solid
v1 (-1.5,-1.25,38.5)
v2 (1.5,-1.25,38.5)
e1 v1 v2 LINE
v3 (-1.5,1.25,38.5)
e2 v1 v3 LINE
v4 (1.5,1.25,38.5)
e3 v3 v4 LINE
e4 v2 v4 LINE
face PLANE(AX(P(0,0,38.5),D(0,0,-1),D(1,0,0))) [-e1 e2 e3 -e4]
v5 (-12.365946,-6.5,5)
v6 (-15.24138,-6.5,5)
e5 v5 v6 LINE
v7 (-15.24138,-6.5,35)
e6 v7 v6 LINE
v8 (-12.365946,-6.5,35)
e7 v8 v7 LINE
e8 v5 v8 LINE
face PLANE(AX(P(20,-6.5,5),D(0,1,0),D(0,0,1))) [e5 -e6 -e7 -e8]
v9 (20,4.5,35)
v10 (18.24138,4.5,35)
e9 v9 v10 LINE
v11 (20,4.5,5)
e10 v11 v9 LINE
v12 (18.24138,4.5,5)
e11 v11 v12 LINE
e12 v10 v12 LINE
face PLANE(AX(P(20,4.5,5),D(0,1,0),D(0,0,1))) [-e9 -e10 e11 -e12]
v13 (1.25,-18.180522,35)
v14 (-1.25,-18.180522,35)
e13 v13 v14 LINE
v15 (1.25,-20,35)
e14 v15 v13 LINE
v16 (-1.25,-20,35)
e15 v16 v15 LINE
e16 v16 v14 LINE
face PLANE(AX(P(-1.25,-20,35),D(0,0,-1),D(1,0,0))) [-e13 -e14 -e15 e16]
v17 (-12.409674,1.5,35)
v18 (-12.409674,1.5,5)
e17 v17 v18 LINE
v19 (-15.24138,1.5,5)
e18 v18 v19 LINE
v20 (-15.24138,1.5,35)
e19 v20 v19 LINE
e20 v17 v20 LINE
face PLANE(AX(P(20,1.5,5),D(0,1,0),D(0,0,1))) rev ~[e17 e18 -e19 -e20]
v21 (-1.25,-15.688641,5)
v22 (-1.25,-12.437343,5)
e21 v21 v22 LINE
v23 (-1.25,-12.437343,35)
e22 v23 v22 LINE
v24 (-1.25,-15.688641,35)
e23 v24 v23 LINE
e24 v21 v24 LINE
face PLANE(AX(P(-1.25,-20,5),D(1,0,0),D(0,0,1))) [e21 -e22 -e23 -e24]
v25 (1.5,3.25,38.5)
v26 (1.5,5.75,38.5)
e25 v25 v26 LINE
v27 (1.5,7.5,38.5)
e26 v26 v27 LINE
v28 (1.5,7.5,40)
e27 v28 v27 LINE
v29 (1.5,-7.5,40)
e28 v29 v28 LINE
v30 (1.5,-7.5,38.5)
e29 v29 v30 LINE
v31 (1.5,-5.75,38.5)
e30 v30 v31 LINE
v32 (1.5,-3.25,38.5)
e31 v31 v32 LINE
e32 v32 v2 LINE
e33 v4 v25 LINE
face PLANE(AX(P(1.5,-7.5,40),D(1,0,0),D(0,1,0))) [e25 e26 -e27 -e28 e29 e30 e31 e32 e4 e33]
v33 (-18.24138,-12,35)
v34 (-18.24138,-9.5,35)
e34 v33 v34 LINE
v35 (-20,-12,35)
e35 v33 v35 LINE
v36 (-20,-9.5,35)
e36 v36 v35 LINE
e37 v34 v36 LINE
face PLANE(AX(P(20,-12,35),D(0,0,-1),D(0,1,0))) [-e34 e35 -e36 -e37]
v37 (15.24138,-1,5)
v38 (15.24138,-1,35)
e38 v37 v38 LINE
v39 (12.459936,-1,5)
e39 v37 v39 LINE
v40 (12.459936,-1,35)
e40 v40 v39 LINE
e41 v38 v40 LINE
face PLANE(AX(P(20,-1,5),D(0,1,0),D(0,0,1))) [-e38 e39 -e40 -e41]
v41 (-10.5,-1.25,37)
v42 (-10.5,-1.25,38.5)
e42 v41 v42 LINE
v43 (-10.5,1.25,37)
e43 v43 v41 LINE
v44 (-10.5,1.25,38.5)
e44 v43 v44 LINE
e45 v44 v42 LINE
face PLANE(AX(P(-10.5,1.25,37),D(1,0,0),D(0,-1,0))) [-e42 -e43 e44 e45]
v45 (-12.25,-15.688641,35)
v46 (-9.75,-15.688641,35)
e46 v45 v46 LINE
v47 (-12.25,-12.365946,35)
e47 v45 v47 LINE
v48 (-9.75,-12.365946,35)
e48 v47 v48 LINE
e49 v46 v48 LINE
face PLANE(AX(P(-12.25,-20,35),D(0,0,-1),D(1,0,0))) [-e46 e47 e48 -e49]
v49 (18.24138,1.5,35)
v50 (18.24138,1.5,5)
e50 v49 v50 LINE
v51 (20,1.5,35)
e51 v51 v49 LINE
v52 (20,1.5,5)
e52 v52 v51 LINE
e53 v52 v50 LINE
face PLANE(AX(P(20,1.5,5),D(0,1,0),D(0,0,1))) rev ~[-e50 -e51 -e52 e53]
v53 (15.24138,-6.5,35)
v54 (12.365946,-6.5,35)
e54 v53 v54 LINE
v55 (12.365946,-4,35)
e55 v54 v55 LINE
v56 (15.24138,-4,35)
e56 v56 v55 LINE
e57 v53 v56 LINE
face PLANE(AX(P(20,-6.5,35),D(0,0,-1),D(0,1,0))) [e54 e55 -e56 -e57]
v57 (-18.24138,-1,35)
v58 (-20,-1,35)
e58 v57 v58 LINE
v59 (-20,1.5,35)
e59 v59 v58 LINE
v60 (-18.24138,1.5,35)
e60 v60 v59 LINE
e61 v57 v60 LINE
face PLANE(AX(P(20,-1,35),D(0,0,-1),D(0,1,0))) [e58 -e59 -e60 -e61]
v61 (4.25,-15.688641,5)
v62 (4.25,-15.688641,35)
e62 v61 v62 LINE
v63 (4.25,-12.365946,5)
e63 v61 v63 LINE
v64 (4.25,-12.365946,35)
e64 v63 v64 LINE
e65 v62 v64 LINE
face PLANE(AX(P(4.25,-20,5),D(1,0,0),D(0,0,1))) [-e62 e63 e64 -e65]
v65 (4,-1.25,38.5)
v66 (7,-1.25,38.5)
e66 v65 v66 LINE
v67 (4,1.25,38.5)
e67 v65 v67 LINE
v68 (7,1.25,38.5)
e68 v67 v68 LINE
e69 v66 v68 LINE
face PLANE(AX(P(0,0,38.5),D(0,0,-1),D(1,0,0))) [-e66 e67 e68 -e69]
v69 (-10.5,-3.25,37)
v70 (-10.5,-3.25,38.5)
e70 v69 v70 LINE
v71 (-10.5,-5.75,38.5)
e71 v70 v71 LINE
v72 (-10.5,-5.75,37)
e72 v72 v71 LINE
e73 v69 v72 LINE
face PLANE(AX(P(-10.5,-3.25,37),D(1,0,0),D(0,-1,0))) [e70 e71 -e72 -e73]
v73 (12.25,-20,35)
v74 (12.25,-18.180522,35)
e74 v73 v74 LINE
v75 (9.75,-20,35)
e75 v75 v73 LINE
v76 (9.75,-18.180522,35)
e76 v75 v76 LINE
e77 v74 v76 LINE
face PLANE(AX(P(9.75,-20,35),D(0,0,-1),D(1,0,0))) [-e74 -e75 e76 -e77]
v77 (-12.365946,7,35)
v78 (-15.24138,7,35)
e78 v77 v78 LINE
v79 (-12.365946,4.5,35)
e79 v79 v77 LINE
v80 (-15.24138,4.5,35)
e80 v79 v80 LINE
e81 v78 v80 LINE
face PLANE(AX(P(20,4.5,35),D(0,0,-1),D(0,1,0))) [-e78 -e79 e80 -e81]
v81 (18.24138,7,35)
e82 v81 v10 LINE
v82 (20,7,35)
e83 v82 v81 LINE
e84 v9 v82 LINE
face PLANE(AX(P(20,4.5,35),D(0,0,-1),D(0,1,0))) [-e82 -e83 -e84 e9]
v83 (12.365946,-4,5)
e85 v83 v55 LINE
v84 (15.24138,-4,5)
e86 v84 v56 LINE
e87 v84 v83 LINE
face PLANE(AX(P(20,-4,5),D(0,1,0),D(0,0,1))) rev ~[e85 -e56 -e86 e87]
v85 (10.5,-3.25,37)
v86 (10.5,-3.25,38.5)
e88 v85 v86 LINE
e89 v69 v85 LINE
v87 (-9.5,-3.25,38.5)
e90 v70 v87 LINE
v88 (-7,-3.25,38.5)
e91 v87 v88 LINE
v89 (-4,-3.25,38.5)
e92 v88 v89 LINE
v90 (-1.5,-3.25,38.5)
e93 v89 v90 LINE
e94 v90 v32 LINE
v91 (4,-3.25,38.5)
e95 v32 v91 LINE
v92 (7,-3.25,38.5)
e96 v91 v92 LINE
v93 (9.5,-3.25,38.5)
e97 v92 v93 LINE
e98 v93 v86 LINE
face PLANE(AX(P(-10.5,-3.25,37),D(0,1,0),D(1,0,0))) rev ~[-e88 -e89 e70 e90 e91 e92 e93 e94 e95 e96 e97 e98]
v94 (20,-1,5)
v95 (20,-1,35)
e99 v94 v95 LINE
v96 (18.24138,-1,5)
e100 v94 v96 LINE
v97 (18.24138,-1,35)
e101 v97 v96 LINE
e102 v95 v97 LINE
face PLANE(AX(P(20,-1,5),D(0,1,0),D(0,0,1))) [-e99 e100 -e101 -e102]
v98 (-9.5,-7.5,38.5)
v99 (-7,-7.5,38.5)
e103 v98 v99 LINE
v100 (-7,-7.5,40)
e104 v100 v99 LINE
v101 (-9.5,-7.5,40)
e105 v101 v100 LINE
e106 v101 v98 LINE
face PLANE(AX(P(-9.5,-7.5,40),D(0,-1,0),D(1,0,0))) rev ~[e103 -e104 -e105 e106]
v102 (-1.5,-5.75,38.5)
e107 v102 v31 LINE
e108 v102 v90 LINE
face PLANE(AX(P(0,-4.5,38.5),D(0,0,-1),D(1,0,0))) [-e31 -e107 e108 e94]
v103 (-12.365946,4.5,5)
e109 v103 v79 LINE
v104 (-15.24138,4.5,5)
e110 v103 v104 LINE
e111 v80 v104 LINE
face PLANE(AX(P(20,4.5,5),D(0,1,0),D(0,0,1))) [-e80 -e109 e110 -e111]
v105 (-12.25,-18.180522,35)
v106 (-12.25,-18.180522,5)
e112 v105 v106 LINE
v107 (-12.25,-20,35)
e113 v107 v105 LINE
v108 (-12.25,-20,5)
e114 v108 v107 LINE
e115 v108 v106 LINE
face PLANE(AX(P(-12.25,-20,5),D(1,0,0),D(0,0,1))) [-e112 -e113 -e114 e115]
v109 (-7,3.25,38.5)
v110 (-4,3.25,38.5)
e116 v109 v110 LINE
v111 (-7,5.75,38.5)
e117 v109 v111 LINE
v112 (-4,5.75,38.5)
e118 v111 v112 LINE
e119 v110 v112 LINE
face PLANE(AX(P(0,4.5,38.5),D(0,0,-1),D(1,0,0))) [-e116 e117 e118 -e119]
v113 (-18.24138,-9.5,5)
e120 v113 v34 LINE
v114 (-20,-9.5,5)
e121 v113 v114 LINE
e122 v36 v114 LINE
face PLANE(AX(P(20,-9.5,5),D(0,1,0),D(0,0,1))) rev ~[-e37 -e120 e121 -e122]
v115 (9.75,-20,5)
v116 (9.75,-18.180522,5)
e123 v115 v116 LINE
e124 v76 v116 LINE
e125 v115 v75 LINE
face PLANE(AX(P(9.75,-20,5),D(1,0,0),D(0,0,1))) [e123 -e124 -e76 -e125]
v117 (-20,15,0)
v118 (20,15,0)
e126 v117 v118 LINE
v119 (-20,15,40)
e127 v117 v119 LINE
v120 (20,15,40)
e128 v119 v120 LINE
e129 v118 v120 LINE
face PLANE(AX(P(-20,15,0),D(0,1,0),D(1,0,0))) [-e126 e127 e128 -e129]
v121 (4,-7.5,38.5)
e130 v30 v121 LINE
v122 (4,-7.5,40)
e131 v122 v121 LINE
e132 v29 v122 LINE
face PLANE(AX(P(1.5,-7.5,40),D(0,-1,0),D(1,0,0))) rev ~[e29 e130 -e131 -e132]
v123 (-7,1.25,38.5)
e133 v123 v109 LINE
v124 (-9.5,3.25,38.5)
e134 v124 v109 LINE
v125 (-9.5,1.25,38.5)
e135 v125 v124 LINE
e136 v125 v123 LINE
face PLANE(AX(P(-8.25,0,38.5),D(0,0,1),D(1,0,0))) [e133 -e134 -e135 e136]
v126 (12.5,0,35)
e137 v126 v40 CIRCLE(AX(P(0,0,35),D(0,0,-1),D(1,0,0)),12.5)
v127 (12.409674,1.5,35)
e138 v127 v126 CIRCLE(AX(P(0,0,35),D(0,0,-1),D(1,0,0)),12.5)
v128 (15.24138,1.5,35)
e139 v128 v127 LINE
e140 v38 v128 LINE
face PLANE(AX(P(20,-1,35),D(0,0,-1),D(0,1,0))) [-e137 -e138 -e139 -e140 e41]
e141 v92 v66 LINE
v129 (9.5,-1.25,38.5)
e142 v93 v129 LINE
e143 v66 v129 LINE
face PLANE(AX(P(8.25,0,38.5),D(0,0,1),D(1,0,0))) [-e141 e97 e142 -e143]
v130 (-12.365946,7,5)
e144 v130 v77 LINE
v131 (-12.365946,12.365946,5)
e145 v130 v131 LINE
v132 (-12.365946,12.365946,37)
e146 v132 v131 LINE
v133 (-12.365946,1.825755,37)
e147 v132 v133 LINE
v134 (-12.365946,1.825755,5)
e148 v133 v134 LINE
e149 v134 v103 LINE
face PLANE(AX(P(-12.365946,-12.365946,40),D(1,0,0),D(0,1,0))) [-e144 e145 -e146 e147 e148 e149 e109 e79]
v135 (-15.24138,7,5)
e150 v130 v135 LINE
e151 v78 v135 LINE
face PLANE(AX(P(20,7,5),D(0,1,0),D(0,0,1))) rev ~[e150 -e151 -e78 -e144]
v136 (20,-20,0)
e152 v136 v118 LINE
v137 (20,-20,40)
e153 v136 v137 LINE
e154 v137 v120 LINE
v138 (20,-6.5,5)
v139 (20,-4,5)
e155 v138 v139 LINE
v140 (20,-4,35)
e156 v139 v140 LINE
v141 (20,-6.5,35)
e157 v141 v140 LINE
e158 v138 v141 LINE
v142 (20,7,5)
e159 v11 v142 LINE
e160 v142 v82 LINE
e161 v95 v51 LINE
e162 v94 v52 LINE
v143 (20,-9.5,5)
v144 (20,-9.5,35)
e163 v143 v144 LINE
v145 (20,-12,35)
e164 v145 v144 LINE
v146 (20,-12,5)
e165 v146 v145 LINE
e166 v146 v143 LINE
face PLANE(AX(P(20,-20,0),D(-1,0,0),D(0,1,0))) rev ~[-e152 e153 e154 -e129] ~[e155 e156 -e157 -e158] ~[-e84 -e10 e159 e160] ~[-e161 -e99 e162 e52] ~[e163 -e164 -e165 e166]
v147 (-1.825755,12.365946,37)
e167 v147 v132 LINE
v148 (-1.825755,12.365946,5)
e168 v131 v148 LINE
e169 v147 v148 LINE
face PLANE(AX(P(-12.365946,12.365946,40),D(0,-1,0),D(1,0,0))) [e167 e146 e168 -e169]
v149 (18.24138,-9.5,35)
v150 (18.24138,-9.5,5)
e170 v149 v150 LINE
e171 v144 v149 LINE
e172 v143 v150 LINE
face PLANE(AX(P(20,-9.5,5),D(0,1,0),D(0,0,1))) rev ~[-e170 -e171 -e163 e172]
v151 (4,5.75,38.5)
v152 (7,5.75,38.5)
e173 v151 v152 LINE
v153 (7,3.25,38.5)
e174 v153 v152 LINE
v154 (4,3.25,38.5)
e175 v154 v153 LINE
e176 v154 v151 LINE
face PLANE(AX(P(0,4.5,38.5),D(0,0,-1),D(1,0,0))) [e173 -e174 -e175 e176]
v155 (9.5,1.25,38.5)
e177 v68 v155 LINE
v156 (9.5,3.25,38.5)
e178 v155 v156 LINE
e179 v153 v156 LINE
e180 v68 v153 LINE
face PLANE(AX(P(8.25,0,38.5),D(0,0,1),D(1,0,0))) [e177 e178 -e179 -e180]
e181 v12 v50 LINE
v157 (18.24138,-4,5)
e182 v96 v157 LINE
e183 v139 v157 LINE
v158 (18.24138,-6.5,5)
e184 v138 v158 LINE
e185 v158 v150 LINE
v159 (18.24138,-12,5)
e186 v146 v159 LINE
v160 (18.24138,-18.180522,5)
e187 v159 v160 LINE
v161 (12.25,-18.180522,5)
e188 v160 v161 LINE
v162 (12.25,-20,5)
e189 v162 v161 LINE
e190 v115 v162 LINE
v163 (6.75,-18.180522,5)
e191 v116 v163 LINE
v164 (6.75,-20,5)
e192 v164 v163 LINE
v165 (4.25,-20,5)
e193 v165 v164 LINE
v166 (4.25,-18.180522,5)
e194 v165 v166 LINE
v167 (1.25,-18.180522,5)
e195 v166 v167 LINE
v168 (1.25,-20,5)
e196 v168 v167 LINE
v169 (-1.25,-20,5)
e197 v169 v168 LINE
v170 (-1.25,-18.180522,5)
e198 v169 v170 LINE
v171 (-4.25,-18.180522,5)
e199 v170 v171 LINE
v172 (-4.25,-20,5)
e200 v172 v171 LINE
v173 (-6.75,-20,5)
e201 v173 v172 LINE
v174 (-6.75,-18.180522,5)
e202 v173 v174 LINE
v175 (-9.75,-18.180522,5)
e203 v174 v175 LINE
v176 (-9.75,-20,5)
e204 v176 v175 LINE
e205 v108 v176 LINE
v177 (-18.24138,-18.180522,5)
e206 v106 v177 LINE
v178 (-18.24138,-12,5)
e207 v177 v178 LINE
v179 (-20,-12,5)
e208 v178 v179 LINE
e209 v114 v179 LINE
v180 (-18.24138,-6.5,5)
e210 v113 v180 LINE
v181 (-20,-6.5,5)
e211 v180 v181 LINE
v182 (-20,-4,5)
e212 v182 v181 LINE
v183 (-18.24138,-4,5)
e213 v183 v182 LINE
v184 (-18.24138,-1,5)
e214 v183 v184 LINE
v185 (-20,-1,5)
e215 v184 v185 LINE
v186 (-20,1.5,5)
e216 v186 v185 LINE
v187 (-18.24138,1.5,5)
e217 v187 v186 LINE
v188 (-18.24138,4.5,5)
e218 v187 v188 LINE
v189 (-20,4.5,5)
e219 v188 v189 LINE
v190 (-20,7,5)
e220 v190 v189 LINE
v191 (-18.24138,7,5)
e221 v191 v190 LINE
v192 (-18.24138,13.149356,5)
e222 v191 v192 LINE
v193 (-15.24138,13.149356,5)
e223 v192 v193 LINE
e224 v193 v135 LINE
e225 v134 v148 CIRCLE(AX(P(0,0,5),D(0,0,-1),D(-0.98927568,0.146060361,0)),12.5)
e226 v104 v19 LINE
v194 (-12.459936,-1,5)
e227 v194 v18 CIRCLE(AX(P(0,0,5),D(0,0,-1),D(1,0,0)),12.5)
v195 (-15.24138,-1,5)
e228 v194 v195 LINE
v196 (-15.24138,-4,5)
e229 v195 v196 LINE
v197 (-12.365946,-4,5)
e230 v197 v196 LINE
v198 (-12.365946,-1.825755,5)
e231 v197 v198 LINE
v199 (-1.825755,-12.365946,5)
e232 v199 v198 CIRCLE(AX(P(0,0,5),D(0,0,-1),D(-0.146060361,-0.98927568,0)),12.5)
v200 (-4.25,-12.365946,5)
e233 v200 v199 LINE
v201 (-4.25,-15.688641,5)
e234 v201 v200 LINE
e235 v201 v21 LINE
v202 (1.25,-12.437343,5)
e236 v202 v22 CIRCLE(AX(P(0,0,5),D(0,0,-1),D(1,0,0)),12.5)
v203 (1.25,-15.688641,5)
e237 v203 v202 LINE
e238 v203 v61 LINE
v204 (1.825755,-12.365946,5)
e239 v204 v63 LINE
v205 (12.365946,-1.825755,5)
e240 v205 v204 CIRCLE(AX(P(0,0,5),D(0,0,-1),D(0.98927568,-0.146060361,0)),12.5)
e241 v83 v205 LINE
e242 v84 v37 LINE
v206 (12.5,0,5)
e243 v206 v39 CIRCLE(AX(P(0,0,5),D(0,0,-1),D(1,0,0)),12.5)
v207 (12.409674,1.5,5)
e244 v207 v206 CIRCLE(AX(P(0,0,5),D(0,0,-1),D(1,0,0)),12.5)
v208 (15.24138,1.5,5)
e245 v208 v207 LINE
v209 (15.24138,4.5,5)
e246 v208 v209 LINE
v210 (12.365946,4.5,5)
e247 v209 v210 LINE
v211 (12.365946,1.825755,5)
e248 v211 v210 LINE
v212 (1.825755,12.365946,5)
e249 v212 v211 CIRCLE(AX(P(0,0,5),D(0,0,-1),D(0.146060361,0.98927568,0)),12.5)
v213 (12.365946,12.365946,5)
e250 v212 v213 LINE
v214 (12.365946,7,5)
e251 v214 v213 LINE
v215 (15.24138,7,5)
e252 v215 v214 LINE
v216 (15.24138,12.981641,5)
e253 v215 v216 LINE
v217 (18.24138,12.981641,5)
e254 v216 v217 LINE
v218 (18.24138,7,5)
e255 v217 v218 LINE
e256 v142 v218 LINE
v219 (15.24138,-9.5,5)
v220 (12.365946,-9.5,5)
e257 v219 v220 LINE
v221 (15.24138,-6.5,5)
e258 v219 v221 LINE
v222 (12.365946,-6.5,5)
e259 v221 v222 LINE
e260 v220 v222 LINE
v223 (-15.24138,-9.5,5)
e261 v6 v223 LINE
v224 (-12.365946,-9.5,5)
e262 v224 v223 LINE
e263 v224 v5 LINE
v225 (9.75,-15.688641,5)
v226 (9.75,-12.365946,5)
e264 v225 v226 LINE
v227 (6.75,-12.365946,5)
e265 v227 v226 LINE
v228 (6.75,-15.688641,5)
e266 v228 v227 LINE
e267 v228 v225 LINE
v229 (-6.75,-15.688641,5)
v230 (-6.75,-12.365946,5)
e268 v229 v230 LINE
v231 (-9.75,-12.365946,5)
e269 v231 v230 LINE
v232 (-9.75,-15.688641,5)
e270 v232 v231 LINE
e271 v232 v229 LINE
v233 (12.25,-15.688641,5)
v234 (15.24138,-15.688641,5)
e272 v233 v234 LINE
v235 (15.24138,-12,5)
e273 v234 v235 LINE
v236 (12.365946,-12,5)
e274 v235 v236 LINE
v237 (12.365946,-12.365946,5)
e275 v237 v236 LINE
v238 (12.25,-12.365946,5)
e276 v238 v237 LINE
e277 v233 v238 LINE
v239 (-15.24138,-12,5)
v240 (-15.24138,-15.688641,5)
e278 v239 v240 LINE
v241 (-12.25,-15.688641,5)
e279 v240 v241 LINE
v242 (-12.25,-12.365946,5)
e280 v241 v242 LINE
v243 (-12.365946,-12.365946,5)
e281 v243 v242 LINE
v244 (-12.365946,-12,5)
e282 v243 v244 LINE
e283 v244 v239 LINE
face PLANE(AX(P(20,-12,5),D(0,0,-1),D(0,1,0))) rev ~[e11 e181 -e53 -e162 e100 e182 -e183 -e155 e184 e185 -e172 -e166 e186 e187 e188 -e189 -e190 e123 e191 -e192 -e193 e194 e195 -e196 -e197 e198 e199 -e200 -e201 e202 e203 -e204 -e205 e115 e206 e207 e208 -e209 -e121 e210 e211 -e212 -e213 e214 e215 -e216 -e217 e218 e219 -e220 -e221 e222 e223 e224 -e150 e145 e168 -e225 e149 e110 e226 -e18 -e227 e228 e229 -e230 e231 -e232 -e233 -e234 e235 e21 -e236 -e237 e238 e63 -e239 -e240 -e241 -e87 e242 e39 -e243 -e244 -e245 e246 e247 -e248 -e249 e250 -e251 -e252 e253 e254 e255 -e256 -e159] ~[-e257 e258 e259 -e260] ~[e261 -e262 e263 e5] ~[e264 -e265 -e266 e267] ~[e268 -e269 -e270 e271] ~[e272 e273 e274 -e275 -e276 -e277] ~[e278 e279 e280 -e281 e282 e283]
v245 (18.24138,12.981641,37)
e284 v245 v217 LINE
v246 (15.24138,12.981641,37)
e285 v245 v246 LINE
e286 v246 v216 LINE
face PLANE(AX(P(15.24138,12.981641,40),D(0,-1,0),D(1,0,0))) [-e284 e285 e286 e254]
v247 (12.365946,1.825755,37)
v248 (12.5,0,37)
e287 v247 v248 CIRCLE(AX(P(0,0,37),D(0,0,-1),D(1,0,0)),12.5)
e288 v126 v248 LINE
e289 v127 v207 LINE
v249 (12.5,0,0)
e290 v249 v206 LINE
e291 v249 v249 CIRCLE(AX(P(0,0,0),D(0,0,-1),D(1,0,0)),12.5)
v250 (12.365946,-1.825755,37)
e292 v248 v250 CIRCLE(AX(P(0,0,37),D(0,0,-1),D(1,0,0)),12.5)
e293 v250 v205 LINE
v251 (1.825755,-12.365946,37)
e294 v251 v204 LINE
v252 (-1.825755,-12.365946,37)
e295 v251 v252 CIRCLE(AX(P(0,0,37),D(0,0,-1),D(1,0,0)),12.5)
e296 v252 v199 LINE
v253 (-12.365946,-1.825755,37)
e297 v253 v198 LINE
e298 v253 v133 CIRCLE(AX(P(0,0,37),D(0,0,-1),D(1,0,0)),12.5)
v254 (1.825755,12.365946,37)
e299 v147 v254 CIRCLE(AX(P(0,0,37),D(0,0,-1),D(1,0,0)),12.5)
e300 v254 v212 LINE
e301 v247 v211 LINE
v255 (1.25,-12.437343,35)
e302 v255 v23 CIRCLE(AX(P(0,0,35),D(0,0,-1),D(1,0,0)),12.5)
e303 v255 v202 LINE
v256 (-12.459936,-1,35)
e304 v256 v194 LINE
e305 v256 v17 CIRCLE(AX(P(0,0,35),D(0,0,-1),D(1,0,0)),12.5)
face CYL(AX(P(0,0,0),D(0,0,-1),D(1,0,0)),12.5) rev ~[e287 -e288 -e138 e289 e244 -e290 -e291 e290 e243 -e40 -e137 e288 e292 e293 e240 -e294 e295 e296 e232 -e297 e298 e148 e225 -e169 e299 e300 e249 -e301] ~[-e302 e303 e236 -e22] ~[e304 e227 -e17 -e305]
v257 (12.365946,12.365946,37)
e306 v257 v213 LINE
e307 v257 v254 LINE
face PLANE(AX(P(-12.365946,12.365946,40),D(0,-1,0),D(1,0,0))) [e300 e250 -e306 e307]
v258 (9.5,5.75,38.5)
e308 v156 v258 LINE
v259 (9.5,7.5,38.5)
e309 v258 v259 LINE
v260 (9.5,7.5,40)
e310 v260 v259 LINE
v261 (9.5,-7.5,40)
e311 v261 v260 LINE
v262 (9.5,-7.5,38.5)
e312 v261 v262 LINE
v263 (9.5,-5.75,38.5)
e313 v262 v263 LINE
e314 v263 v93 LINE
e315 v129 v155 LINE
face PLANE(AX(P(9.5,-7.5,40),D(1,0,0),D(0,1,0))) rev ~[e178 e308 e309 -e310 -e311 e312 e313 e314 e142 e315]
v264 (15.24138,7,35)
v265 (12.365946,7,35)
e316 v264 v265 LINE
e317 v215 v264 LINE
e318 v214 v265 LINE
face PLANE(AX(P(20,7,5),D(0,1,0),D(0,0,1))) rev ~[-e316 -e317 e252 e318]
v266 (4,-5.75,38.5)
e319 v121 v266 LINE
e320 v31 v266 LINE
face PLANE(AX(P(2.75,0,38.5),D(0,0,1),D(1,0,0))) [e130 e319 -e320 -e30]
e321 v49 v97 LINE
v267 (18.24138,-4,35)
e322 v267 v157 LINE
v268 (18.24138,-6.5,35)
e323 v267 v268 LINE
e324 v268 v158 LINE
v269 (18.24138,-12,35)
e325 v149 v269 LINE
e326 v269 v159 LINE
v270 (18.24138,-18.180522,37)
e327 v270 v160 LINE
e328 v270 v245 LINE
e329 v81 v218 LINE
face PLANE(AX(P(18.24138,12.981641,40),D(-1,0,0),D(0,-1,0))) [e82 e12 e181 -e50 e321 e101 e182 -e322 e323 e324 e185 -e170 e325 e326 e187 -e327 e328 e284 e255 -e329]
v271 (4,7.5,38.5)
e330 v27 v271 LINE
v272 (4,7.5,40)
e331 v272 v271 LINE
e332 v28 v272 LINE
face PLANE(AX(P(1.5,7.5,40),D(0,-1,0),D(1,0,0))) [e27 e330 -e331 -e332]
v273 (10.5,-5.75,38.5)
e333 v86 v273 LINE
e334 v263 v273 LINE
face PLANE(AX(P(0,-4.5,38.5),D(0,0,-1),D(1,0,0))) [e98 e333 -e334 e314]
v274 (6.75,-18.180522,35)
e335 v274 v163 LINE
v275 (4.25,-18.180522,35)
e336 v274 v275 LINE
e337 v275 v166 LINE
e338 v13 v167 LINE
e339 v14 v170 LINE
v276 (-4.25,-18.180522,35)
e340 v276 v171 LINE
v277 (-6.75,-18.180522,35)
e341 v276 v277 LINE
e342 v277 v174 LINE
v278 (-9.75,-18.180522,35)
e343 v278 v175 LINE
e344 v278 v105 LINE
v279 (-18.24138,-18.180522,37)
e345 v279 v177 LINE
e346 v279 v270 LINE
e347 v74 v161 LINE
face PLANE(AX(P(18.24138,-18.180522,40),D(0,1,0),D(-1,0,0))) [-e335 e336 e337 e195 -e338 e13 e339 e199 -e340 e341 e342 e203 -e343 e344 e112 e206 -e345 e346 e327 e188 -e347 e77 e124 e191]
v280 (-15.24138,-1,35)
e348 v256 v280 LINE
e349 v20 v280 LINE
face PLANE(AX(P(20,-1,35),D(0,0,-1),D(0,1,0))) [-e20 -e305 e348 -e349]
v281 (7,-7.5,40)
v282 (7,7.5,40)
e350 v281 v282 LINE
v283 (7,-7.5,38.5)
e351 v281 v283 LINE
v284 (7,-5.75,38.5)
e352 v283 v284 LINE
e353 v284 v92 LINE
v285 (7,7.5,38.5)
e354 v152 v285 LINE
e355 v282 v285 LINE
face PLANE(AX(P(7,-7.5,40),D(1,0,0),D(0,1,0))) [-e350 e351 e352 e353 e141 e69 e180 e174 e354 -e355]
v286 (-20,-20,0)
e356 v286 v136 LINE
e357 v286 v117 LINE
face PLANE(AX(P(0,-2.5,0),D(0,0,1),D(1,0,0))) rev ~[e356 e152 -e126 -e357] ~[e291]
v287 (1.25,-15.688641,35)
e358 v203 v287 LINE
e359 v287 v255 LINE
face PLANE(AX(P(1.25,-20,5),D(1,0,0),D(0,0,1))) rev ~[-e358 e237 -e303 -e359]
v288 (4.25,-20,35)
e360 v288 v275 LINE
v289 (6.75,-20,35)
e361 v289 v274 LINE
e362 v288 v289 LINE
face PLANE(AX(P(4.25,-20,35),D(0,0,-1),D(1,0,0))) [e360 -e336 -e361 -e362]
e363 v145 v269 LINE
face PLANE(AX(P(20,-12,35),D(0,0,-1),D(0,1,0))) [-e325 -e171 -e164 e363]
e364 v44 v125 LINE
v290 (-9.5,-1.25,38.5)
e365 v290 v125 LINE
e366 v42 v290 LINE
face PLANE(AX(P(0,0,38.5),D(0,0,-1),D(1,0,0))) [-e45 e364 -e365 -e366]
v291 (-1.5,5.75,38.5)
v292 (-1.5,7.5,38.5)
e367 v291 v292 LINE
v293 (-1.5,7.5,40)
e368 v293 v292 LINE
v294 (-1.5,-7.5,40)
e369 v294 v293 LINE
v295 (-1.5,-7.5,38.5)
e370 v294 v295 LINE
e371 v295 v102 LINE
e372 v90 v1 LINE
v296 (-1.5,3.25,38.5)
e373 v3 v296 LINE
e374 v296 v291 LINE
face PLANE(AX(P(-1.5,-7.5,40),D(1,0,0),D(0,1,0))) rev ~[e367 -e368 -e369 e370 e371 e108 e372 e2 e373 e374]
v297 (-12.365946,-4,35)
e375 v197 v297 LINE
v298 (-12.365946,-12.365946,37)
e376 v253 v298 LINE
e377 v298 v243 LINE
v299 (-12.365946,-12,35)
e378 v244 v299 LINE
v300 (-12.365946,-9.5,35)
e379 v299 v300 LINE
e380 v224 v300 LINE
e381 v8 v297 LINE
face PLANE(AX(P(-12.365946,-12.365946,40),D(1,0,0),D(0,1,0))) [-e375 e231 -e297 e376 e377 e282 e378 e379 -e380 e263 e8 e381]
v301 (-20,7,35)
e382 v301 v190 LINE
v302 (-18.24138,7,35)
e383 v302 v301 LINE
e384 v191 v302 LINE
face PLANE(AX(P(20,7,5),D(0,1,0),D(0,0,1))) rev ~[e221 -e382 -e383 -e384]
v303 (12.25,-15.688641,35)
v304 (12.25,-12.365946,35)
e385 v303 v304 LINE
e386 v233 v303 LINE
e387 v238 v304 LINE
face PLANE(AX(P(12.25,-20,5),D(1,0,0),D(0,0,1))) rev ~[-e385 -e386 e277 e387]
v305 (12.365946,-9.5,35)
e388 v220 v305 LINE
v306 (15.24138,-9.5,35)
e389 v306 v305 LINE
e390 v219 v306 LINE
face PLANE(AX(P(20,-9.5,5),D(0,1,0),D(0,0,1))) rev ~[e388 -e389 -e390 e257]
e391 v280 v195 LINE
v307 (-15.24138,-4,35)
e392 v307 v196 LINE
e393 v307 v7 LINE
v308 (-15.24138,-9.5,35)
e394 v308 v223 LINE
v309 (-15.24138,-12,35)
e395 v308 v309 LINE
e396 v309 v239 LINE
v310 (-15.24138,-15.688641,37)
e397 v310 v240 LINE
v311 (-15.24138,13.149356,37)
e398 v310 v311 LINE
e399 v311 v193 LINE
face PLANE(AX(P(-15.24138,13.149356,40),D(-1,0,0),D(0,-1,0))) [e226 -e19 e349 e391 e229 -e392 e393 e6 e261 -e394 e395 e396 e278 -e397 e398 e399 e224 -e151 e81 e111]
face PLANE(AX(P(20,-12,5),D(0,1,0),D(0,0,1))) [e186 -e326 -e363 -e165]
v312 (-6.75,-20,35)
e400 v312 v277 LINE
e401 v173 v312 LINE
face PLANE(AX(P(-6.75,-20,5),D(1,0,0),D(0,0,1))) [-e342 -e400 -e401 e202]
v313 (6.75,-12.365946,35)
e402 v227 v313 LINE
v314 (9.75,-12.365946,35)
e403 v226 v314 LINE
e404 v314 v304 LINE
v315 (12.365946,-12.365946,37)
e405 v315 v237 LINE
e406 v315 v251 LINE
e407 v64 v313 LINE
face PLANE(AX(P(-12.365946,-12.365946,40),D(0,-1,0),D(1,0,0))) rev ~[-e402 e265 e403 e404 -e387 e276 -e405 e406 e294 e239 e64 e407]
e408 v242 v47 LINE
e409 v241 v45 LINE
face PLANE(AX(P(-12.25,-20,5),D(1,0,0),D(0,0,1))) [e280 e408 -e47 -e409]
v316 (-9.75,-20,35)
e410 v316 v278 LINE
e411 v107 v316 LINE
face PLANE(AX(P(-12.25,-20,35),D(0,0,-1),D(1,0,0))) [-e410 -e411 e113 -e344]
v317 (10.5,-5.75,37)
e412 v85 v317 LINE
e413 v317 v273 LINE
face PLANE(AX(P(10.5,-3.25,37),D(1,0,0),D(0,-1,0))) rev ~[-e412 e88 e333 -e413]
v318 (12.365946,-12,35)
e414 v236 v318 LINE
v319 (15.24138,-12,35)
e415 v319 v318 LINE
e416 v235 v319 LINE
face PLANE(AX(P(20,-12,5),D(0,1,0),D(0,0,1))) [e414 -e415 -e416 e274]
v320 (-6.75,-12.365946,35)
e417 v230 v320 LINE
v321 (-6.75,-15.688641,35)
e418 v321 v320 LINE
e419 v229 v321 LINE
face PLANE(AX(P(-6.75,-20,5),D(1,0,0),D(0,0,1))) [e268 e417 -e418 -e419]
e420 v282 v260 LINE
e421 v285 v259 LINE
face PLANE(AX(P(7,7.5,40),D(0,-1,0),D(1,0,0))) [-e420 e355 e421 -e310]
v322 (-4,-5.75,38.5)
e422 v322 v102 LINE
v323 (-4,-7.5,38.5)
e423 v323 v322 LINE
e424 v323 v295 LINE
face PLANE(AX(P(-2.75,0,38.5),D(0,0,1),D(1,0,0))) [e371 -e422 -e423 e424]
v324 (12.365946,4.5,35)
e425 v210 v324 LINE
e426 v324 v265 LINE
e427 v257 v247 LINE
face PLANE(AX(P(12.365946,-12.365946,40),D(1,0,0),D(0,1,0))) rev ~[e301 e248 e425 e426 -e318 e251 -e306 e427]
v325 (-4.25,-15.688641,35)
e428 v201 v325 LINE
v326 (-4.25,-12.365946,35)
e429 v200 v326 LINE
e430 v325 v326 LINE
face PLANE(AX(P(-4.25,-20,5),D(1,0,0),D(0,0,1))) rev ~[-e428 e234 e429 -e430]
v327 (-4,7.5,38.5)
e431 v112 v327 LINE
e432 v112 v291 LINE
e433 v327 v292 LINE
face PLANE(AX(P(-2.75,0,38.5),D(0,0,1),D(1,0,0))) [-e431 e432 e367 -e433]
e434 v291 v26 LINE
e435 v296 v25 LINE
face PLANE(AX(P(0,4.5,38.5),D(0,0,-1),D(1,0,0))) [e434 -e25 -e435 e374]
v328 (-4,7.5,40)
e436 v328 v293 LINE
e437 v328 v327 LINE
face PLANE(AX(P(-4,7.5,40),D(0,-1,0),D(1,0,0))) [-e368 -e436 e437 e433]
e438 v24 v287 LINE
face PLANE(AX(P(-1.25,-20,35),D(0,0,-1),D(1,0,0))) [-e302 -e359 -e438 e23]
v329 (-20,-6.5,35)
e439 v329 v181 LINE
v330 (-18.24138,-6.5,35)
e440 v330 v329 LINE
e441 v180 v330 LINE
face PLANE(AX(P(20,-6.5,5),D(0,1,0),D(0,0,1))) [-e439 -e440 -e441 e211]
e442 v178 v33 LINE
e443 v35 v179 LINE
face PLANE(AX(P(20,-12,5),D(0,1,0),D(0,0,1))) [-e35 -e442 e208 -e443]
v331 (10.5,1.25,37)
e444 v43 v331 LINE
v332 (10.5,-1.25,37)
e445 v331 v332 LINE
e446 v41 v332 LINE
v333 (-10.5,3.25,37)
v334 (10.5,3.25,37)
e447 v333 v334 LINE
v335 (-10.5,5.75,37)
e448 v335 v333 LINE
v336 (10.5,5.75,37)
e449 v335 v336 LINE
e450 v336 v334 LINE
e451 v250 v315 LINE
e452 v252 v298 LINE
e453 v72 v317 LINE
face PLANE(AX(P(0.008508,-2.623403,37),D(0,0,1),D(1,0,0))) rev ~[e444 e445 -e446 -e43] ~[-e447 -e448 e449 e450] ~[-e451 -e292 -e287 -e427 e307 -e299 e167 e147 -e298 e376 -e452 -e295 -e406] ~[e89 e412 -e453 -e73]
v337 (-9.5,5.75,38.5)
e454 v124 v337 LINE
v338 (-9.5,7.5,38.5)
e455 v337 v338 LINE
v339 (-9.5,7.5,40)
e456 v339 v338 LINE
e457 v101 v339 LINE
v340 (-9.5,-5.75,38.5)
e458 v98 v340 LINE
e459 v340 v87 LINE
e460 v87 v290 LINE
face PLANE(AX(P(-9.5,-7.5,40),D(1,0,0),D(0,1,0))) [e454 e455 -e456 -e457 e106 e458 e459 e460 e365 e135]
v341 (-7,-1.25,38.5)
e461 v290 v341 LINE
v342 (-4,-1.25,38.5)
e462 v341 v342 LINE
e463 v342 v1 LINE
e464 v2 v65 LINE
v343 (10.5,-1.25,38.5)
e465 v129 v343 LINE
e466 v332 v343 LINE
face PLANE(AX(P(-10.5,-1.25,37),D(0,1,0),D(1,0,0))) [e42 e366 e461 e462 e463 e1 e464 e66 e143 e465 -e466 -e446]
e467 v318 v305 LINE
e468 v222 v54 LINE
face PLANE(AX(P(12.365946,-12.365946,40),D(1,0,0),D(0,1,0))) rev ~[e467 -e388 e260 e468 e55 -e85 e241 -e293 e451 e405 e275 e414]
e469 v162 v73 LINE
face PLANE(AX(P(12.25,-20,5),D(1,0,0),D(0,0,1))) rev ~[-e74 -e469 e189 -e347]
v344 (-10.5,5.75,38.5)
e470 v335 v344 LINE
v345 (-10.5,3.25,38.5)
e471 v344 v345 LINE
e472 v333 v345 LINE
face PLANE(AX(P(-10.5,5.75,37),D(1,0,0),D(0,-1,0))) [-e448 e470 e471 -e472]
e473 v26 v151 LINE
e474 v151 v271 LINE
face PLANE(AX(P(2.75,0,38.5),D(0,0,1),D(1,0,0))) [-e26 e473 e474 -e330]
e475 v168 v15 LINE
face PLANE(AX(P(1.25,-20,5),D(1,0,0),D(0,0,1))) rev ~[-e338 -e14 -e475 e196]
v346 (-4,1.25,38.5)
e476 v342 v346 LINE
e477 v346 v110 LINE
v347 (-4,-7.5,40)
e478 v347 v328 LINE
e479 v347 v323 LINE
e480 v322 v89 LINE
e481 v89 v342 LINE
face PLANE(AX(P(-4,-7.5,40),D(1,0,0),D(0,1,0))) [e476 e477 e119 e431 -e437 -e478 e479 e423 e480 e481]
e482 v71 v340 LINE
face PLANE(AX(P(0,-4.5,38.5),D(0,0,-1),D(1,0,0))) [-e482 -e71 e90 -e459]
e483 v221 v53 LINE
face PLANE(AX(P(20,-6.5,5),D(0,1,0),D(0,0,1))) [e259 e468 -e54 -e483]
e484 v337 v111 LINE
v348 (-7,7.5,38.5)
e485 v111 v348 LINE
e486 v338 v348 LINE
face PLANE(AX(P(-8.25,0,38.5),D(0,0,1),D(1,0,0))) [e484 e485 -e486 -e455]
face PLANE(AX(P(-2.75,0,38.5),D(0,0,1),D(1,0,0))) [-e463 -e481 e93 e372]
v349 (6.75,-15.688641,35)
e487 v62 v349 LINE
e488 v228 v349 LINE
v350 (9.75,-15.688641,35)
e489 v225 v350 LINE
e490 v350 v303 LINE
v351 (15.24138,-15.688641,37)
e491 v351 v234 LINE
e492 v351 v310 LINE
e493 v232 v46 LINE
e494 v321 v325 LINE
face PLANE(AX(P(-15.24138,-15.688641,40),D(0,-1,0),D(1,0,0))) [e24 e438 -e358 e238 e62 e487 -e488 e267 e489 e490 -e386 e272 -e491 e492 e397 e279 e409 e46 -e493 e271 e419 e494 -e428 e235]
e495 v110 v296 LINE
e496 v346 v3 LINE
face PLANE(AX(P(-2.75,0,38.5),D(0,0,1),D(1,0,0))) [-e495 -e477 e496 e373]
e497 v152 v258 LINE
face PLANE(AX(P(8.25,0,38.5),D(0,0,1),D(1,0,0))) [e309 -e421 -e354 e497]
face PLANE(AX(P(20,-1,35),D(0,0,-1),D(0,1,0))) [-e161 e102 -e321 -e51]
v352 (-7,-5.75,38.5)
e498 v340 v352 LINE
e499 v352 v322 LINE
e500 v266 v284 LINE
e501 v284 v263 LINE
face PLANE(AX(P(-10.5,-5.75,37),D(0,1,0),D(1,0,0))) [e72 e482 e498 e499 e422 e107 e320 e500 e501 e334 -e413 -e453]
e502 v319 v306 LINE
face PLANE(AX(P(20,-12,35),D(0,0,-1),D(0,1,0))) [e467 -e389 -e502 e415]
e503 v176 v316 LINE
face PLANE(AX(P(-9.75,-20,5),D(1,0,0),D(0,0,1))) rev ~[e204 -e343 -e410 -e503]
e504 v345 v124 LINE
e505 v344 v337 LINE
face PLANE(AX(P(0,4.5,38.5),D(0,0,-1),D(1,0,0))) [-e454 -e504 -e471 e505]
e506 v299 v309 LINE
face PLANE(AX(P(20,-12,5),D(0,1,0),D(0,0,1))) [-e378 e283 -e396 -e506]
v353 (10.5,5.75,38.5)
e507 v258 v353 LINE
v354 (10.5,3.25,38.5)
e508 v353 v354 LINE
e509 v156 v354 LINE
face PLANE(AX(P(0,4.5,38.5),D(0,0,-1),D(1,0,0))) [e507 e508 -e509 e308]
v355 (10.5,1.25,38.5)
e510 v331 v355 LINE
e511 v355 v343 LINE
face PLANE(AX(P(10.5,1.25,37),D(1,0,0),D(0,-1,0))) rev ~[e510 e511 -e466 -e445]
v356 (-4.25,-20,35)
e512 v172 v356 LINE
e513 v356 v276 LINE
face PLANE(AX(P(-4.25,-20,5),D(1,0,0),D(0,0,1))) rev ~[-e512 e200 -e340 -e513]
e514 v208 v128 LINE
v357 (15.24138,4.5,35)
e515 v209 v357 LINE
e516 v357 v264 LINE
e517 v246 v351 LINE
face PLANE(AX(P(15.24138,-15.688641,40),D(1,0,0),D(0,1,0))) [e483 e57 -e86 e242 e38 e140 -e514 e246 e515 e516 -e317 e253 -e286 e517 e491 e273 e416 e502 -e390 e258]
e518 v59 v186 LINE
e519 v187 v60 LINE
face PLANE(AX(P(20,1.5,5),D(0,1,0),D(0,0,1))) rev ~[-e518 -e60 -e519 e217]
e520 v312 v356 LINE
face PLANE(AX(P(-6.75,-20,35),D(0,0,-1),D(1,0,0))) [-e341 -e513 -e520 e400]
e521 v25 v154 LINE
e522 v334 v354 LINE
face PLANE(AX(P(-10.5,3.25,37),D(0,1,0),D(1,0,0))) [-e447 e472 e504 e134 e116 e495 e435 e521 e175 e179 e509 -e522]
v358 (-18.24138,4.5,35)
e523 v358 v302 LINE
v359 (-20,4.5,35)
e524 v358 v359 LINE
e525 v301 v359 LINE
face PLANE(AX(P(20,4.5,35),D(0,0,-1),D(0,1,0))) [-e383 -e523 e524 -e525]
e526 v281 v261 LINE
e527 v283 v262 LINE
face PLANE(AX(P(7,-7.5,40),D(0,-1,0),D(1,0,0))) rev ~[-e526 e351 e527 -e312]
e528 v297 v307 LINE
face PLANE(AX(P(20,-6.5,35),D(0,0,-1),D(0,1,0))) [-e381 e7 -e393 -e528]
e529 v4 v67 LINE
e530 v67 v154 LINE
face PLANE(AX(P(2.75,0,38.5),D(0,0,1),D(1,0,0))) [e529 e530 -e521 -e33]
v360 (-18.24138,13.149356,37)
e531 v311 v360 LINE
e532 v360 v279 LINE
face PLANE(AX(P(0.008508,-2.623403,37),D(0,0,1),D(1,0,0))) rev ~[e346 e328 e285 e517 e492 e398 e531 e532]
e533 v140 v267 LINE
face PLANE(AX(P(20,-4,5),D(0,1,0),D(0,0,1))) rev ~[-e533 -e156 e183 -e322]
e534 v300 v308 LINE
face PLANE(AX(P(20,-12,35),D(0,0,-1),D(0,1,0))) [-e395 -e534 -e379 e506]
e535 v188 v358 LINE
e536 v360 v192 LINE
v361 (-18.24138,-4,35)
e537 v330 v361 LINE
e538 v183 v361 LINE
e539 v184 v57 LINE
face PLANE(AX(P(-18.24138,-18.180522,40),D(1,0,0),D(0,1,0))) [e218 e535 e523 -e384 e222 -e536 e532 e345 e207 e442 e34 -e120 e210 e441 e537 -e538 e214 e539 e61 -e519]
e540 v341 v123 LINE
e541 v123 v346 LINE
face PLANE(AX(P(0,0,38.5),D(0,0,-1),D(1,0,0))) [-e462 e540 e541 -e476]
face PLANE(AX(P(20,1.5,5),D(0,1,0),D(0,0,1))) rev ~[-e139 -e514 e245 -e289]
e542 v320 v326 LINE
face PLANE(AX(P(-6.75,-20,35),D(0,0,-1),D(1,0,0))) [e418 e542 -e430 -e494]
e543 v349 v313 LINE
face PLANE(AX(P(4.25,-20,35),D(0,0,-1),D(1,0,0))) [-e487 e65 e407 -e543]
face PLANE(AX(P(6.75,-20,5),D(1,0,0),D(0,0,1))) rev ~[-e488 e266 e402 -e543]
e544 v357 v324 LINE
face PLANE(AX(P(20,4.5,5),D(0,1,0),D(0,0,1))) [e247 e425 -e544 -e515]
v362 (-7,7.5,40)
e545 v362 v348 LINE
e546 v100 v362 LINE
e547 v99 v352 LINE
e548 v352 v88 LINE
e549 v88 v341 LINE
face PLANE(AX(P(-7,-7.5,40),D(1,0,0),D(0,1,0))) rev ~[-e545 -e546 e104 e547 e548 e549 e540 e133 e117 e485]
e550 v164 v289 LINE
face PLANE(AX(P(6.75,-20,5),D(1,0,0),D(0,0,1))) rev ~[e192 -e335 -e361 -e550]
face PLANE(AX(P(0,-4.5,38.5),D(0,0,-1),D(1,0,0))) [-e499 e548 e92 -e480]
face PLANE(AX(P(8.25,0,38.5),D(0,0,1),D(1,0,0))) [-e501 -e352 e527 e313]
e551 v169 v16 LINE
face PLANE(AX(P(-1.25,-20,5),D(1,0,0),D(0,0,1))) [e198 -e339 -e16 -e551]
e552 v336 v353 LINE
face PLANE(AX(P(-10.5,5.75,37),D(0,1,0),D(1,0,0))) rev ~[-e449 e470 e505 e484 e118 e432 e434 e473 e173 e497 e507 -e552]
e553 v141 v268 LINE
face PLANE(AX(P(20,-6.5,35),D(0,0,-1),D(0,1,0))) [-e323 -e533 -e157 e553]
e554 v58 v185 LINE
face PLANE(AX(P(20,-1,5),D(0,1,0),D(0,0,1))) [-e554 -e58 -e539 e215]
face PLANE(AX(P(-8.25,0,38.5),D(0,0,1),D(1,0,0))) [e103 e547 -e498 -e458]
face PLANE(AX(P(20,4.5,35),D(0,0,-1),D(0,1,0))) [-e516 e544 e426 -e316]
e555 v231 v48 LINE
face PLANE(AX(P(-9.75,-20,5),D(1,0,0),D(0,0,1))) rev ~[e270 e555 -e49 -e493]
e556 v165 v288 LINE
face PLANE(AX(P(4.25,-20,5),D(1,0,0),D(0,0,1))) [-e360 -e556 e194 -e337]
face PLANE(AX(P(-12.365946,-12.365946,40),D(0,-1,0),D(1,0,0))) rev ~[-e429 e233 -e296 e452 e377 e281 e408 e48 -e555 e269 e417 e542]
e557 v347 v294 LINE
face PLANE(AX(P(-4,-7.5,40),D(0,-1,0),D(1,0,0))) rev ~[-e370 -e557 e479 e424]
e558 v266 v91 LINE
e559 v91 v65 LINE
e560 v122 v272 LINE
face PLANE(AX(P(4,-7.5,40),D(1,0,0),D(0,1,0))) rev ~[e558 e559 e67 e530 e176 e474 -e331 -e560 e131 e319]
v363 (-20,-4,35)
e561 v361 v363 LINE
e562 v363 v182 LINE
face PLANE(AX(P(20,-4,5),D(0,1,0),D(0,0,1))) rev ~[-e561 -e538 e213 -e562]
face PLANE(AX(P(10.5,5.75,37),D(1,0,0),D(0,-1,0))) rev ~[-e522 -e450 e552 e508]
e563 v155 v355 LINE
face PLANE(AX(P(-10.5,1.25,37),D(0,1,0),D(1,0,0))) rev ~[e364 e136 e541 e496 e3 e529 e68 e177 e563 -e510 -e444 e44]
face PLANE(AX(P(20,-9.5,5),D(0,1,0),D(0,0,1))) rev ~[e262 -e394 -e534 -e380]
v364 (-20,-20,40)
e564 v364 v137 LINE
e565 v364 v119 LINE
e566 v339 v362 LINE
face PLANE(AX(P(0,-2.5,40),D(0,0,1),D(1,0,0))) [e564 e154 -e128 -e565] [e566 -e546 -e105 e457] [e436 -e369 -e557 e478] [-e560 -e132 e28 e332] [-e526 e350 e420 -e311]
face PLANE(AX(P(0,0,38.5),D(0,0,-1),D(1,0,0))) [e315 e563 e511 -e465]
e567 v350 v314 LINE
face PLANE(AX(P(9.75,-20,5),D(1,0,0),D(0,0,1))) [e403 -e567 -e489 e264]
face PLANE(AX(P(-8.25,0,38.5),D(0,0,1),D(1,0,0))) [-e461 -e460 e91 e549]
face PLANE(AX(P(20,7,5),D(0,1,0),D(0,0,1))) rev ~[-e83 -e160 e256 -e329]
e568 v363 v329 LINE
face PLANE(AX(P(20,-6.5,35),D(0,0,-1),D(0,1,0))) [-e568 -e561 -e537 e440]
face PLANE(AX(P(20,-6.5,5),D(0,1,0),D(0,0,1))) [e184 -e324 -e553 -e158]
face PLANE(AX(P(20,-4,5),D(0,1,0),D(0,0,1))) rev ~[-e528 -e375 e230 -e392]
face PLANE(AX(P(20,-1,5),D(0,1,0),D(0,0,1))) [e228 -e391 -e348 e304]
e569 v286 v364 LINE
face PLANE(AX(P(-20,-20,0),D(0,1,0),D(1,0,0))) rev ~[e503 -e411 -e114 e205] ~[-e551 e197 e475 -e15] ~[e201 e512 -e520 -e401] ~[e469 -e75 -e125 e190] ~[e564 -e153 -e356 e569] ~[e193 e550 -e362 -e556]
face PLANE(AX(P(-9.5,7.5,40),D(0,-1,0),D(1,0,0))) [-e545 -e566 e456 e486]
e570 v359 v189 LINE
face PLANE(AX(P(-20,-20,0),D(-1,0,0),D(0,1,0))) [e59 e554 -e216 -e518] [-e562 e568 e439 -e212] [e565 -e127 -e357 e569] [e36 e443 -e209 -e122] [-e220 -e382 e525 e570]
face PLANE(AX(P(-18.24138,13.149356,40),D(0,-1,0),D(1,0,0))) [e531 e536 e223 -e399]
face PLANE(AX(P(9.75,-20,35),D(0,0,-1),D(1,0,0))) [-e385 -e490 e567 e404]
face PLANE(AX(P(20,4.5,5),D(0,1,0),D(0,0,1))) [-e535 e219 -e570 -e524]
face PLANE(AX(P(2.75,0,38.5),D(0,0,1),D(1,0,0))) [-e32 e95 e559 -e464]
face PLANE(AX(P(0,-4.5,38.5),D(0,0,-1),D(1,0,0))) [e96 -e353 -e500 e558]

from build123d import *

# Parameters (mm, degrees)
SKETCH_W        = 40
SKETCH_H        = 35
PAD_DEPTH       = 40
SKETCH001_R     = 12.5
POCKET_DEPTH    = 40.001
SKETCH002_W     = 24.731892
SKETCH002_H     = 24.731892
POCKET001_DEPTH = 35
POCKET002_DEPTH = 35
SKETCH004_W     = 2.5
SKETCH004_H     = 30
POCKET003_DEPTH = 40.001
SKETCH005_W     = 2.5
SKETCH005_H     = 30
POCKET004_DEPTH = 21
SKETCH006_W     = 39.144078
SKETCH006_H     = 33.985684
PAD001_DEPTH    = 3
SKETCH007_W     = 18
SKETCH007_H     = 2
POCKET005_DEPTH = 5
SKETCH008_W     = 2.5
SKETCH008_H     = 15
POCKET006_DEPTH = 1.5
SKETCH009_W     = 21
SKETCH009_H     = 2.5
POCKET007_DEPTH = 1.5


with BuildPart() as part:
    # Sketch → Pad (new body)
    with BuildSketch(Plane.XY):
        with Locations((0, -2.5)):
            Rectangle(SKETCH_W, SKETCH_H)
    extrude(amount=PAD_DEPTH)

    # Sketch001 (on Face5 of Pad) → Pocket (cut, through all)
    with BuildSketch(Plane(origin=(0, 0, 0), x_dir=(1, 0, 0), z_dir=(0, 0, -1))):
        Circle(SKETCH001_R)
    extrude(amount=-POCKET_DEPTH, mode=Mode.SUBTRACT)

    # Sketch002 (on Face5 of Pocket) → Pocket001 (cut)
    with BuildSketch(Plane.XY.offset(40)):
        Rectangle(SKETCH002_W, SKETCH002_H)
    extrude(amount=-POCKET001_DEPTH, mode=Mode.SUBTRACT)

    # Sketch003 → Pocket002 (cut)
    with BuildSketch(Plane.XY.offset(40)):
        Polygon((-18.24138, 13.149356), (-15.24138, 13.149356), (-15.24138, -15.688641), (15.24138, -15.688641), (15.24138, 12.981641), (18.24138, 12.981641), (18.24138, -18.180522), (-18.24138, -18.180522), align=None)
    extrude(amount=-POCKET002_DEPTH, mode=Mode.SUBTRACT)

    # Sketch004 → Pocket003 (cut, through all)
    with BuildSketch(Plane.YZ.offset(20)):
        with Locations((-10.75, 20)):
            Rectangle(SKETCH004_W, SKETCH004_H)
        with Locations((-5.25, 20)):
            Rectangle(SKETCH004_W, SKETCH004_H)
        with Locations((0.25, 20)):
            Rectangle(SKETCH004_W, SKETCH004_H)
        with Locations((5.75, 20)):
            Rectangle(SKETCH004_W, SKETCH004_H)
    extrude(amount=-POCKET003_DEPTH, mode=Mode.SUBTRACT)

    # Sketch005 → Pocket004 (cut)
    with BuildSketch(Plane.XZ.offset(20)):
        with Locations((-5.5, 20)):
            Rectangle(SKETCH005_W, SKETCH005_H)
        with Locations((0, 20)):
            Rectangle(SKETCH005_W, SKETCH005_H)
        with Locations((5.5, 20)):
            Rectangle(SKETCH005_W, SKETCH005_H)
        with Locations((11, 20)):
            Rectangle(SKETCH005_W, SKETCH005_H)
        with Locations((-11, 20)):
            Rectangle(SKETCH005_W, SKETCH005_H)
    extrude(amount=-POCKET004_DEPTH, mode=Mode.SUBTRACT)

    # Sketch006 → Pad001 (join)
    with BuildSketch(Plane.XY.offset(40)):
        with Locations((0.008508, -2.623403)):
            Rectangle(SKETCH006_W, SKETCH006_H)
    extrude(amount=-PAD001_DEPTH)

    # Sketch007 (on Face89 of Pad001) → Pocket005 (cut)
    with BuildSketch(Plane.XY.offset(5)):
        with Locations((0, 5.022821)):
            Rectangle(SKETCH007_W, SKETCH007_H)
        Rectangle(SKETCH007_W, SKETCH007_H)
        with Locations((0, -5.022821)):
            Rectangle(SKETCH007_W, SKETCH007_H)
    extrude(amount=-POCKET005_DEPTH, mode=Mode.SUBTRACT)

    # Sketch008 (on Face117 of Pocket005) → Pocket006 (cut)
    with BuildSketch(Plane.XY.offset(40)):
        with Locations((-8.25, 0)):
            Rectangle(SKETCH008_W, SKETCH008_H)
        with Locations((8.25, 0)):
            Rectangle(SKETCH008_W, SKETCH008_H)
        with Locations((-2.75, 0)):
            Rectangle(SKETCH008_W, SKETCH008_H)
        with Locations((2.75, 0)):
            Rectangle(SKETCH008_W, SKETCH008_H)
    extrude(amount=-POCKET006_DEPTH, mode=Mode.SUBTRACT)

    # Sketch009 (on Face74 of Pocket006) → Pocket007 (cut)
    with BuildSketch(Plane(origin=(0, 0, 37), x_dir=(1, 0, 0), z_dir=(0, 0, -1))):
        with Locations((0, 4.5)):
            Rectangle(SKETCH009_W, SKETCH009_H)
        Rectangle(SKETCH009_W, SKETCH009_H)
        with Locations((0, -4.5)):
            Rectangle(SKETCH009_W, SKETCH009_H)
    extrude(amount=-POCKET007_DEPTH, mode=Mode.SUBTRACT)


solid = part.part
